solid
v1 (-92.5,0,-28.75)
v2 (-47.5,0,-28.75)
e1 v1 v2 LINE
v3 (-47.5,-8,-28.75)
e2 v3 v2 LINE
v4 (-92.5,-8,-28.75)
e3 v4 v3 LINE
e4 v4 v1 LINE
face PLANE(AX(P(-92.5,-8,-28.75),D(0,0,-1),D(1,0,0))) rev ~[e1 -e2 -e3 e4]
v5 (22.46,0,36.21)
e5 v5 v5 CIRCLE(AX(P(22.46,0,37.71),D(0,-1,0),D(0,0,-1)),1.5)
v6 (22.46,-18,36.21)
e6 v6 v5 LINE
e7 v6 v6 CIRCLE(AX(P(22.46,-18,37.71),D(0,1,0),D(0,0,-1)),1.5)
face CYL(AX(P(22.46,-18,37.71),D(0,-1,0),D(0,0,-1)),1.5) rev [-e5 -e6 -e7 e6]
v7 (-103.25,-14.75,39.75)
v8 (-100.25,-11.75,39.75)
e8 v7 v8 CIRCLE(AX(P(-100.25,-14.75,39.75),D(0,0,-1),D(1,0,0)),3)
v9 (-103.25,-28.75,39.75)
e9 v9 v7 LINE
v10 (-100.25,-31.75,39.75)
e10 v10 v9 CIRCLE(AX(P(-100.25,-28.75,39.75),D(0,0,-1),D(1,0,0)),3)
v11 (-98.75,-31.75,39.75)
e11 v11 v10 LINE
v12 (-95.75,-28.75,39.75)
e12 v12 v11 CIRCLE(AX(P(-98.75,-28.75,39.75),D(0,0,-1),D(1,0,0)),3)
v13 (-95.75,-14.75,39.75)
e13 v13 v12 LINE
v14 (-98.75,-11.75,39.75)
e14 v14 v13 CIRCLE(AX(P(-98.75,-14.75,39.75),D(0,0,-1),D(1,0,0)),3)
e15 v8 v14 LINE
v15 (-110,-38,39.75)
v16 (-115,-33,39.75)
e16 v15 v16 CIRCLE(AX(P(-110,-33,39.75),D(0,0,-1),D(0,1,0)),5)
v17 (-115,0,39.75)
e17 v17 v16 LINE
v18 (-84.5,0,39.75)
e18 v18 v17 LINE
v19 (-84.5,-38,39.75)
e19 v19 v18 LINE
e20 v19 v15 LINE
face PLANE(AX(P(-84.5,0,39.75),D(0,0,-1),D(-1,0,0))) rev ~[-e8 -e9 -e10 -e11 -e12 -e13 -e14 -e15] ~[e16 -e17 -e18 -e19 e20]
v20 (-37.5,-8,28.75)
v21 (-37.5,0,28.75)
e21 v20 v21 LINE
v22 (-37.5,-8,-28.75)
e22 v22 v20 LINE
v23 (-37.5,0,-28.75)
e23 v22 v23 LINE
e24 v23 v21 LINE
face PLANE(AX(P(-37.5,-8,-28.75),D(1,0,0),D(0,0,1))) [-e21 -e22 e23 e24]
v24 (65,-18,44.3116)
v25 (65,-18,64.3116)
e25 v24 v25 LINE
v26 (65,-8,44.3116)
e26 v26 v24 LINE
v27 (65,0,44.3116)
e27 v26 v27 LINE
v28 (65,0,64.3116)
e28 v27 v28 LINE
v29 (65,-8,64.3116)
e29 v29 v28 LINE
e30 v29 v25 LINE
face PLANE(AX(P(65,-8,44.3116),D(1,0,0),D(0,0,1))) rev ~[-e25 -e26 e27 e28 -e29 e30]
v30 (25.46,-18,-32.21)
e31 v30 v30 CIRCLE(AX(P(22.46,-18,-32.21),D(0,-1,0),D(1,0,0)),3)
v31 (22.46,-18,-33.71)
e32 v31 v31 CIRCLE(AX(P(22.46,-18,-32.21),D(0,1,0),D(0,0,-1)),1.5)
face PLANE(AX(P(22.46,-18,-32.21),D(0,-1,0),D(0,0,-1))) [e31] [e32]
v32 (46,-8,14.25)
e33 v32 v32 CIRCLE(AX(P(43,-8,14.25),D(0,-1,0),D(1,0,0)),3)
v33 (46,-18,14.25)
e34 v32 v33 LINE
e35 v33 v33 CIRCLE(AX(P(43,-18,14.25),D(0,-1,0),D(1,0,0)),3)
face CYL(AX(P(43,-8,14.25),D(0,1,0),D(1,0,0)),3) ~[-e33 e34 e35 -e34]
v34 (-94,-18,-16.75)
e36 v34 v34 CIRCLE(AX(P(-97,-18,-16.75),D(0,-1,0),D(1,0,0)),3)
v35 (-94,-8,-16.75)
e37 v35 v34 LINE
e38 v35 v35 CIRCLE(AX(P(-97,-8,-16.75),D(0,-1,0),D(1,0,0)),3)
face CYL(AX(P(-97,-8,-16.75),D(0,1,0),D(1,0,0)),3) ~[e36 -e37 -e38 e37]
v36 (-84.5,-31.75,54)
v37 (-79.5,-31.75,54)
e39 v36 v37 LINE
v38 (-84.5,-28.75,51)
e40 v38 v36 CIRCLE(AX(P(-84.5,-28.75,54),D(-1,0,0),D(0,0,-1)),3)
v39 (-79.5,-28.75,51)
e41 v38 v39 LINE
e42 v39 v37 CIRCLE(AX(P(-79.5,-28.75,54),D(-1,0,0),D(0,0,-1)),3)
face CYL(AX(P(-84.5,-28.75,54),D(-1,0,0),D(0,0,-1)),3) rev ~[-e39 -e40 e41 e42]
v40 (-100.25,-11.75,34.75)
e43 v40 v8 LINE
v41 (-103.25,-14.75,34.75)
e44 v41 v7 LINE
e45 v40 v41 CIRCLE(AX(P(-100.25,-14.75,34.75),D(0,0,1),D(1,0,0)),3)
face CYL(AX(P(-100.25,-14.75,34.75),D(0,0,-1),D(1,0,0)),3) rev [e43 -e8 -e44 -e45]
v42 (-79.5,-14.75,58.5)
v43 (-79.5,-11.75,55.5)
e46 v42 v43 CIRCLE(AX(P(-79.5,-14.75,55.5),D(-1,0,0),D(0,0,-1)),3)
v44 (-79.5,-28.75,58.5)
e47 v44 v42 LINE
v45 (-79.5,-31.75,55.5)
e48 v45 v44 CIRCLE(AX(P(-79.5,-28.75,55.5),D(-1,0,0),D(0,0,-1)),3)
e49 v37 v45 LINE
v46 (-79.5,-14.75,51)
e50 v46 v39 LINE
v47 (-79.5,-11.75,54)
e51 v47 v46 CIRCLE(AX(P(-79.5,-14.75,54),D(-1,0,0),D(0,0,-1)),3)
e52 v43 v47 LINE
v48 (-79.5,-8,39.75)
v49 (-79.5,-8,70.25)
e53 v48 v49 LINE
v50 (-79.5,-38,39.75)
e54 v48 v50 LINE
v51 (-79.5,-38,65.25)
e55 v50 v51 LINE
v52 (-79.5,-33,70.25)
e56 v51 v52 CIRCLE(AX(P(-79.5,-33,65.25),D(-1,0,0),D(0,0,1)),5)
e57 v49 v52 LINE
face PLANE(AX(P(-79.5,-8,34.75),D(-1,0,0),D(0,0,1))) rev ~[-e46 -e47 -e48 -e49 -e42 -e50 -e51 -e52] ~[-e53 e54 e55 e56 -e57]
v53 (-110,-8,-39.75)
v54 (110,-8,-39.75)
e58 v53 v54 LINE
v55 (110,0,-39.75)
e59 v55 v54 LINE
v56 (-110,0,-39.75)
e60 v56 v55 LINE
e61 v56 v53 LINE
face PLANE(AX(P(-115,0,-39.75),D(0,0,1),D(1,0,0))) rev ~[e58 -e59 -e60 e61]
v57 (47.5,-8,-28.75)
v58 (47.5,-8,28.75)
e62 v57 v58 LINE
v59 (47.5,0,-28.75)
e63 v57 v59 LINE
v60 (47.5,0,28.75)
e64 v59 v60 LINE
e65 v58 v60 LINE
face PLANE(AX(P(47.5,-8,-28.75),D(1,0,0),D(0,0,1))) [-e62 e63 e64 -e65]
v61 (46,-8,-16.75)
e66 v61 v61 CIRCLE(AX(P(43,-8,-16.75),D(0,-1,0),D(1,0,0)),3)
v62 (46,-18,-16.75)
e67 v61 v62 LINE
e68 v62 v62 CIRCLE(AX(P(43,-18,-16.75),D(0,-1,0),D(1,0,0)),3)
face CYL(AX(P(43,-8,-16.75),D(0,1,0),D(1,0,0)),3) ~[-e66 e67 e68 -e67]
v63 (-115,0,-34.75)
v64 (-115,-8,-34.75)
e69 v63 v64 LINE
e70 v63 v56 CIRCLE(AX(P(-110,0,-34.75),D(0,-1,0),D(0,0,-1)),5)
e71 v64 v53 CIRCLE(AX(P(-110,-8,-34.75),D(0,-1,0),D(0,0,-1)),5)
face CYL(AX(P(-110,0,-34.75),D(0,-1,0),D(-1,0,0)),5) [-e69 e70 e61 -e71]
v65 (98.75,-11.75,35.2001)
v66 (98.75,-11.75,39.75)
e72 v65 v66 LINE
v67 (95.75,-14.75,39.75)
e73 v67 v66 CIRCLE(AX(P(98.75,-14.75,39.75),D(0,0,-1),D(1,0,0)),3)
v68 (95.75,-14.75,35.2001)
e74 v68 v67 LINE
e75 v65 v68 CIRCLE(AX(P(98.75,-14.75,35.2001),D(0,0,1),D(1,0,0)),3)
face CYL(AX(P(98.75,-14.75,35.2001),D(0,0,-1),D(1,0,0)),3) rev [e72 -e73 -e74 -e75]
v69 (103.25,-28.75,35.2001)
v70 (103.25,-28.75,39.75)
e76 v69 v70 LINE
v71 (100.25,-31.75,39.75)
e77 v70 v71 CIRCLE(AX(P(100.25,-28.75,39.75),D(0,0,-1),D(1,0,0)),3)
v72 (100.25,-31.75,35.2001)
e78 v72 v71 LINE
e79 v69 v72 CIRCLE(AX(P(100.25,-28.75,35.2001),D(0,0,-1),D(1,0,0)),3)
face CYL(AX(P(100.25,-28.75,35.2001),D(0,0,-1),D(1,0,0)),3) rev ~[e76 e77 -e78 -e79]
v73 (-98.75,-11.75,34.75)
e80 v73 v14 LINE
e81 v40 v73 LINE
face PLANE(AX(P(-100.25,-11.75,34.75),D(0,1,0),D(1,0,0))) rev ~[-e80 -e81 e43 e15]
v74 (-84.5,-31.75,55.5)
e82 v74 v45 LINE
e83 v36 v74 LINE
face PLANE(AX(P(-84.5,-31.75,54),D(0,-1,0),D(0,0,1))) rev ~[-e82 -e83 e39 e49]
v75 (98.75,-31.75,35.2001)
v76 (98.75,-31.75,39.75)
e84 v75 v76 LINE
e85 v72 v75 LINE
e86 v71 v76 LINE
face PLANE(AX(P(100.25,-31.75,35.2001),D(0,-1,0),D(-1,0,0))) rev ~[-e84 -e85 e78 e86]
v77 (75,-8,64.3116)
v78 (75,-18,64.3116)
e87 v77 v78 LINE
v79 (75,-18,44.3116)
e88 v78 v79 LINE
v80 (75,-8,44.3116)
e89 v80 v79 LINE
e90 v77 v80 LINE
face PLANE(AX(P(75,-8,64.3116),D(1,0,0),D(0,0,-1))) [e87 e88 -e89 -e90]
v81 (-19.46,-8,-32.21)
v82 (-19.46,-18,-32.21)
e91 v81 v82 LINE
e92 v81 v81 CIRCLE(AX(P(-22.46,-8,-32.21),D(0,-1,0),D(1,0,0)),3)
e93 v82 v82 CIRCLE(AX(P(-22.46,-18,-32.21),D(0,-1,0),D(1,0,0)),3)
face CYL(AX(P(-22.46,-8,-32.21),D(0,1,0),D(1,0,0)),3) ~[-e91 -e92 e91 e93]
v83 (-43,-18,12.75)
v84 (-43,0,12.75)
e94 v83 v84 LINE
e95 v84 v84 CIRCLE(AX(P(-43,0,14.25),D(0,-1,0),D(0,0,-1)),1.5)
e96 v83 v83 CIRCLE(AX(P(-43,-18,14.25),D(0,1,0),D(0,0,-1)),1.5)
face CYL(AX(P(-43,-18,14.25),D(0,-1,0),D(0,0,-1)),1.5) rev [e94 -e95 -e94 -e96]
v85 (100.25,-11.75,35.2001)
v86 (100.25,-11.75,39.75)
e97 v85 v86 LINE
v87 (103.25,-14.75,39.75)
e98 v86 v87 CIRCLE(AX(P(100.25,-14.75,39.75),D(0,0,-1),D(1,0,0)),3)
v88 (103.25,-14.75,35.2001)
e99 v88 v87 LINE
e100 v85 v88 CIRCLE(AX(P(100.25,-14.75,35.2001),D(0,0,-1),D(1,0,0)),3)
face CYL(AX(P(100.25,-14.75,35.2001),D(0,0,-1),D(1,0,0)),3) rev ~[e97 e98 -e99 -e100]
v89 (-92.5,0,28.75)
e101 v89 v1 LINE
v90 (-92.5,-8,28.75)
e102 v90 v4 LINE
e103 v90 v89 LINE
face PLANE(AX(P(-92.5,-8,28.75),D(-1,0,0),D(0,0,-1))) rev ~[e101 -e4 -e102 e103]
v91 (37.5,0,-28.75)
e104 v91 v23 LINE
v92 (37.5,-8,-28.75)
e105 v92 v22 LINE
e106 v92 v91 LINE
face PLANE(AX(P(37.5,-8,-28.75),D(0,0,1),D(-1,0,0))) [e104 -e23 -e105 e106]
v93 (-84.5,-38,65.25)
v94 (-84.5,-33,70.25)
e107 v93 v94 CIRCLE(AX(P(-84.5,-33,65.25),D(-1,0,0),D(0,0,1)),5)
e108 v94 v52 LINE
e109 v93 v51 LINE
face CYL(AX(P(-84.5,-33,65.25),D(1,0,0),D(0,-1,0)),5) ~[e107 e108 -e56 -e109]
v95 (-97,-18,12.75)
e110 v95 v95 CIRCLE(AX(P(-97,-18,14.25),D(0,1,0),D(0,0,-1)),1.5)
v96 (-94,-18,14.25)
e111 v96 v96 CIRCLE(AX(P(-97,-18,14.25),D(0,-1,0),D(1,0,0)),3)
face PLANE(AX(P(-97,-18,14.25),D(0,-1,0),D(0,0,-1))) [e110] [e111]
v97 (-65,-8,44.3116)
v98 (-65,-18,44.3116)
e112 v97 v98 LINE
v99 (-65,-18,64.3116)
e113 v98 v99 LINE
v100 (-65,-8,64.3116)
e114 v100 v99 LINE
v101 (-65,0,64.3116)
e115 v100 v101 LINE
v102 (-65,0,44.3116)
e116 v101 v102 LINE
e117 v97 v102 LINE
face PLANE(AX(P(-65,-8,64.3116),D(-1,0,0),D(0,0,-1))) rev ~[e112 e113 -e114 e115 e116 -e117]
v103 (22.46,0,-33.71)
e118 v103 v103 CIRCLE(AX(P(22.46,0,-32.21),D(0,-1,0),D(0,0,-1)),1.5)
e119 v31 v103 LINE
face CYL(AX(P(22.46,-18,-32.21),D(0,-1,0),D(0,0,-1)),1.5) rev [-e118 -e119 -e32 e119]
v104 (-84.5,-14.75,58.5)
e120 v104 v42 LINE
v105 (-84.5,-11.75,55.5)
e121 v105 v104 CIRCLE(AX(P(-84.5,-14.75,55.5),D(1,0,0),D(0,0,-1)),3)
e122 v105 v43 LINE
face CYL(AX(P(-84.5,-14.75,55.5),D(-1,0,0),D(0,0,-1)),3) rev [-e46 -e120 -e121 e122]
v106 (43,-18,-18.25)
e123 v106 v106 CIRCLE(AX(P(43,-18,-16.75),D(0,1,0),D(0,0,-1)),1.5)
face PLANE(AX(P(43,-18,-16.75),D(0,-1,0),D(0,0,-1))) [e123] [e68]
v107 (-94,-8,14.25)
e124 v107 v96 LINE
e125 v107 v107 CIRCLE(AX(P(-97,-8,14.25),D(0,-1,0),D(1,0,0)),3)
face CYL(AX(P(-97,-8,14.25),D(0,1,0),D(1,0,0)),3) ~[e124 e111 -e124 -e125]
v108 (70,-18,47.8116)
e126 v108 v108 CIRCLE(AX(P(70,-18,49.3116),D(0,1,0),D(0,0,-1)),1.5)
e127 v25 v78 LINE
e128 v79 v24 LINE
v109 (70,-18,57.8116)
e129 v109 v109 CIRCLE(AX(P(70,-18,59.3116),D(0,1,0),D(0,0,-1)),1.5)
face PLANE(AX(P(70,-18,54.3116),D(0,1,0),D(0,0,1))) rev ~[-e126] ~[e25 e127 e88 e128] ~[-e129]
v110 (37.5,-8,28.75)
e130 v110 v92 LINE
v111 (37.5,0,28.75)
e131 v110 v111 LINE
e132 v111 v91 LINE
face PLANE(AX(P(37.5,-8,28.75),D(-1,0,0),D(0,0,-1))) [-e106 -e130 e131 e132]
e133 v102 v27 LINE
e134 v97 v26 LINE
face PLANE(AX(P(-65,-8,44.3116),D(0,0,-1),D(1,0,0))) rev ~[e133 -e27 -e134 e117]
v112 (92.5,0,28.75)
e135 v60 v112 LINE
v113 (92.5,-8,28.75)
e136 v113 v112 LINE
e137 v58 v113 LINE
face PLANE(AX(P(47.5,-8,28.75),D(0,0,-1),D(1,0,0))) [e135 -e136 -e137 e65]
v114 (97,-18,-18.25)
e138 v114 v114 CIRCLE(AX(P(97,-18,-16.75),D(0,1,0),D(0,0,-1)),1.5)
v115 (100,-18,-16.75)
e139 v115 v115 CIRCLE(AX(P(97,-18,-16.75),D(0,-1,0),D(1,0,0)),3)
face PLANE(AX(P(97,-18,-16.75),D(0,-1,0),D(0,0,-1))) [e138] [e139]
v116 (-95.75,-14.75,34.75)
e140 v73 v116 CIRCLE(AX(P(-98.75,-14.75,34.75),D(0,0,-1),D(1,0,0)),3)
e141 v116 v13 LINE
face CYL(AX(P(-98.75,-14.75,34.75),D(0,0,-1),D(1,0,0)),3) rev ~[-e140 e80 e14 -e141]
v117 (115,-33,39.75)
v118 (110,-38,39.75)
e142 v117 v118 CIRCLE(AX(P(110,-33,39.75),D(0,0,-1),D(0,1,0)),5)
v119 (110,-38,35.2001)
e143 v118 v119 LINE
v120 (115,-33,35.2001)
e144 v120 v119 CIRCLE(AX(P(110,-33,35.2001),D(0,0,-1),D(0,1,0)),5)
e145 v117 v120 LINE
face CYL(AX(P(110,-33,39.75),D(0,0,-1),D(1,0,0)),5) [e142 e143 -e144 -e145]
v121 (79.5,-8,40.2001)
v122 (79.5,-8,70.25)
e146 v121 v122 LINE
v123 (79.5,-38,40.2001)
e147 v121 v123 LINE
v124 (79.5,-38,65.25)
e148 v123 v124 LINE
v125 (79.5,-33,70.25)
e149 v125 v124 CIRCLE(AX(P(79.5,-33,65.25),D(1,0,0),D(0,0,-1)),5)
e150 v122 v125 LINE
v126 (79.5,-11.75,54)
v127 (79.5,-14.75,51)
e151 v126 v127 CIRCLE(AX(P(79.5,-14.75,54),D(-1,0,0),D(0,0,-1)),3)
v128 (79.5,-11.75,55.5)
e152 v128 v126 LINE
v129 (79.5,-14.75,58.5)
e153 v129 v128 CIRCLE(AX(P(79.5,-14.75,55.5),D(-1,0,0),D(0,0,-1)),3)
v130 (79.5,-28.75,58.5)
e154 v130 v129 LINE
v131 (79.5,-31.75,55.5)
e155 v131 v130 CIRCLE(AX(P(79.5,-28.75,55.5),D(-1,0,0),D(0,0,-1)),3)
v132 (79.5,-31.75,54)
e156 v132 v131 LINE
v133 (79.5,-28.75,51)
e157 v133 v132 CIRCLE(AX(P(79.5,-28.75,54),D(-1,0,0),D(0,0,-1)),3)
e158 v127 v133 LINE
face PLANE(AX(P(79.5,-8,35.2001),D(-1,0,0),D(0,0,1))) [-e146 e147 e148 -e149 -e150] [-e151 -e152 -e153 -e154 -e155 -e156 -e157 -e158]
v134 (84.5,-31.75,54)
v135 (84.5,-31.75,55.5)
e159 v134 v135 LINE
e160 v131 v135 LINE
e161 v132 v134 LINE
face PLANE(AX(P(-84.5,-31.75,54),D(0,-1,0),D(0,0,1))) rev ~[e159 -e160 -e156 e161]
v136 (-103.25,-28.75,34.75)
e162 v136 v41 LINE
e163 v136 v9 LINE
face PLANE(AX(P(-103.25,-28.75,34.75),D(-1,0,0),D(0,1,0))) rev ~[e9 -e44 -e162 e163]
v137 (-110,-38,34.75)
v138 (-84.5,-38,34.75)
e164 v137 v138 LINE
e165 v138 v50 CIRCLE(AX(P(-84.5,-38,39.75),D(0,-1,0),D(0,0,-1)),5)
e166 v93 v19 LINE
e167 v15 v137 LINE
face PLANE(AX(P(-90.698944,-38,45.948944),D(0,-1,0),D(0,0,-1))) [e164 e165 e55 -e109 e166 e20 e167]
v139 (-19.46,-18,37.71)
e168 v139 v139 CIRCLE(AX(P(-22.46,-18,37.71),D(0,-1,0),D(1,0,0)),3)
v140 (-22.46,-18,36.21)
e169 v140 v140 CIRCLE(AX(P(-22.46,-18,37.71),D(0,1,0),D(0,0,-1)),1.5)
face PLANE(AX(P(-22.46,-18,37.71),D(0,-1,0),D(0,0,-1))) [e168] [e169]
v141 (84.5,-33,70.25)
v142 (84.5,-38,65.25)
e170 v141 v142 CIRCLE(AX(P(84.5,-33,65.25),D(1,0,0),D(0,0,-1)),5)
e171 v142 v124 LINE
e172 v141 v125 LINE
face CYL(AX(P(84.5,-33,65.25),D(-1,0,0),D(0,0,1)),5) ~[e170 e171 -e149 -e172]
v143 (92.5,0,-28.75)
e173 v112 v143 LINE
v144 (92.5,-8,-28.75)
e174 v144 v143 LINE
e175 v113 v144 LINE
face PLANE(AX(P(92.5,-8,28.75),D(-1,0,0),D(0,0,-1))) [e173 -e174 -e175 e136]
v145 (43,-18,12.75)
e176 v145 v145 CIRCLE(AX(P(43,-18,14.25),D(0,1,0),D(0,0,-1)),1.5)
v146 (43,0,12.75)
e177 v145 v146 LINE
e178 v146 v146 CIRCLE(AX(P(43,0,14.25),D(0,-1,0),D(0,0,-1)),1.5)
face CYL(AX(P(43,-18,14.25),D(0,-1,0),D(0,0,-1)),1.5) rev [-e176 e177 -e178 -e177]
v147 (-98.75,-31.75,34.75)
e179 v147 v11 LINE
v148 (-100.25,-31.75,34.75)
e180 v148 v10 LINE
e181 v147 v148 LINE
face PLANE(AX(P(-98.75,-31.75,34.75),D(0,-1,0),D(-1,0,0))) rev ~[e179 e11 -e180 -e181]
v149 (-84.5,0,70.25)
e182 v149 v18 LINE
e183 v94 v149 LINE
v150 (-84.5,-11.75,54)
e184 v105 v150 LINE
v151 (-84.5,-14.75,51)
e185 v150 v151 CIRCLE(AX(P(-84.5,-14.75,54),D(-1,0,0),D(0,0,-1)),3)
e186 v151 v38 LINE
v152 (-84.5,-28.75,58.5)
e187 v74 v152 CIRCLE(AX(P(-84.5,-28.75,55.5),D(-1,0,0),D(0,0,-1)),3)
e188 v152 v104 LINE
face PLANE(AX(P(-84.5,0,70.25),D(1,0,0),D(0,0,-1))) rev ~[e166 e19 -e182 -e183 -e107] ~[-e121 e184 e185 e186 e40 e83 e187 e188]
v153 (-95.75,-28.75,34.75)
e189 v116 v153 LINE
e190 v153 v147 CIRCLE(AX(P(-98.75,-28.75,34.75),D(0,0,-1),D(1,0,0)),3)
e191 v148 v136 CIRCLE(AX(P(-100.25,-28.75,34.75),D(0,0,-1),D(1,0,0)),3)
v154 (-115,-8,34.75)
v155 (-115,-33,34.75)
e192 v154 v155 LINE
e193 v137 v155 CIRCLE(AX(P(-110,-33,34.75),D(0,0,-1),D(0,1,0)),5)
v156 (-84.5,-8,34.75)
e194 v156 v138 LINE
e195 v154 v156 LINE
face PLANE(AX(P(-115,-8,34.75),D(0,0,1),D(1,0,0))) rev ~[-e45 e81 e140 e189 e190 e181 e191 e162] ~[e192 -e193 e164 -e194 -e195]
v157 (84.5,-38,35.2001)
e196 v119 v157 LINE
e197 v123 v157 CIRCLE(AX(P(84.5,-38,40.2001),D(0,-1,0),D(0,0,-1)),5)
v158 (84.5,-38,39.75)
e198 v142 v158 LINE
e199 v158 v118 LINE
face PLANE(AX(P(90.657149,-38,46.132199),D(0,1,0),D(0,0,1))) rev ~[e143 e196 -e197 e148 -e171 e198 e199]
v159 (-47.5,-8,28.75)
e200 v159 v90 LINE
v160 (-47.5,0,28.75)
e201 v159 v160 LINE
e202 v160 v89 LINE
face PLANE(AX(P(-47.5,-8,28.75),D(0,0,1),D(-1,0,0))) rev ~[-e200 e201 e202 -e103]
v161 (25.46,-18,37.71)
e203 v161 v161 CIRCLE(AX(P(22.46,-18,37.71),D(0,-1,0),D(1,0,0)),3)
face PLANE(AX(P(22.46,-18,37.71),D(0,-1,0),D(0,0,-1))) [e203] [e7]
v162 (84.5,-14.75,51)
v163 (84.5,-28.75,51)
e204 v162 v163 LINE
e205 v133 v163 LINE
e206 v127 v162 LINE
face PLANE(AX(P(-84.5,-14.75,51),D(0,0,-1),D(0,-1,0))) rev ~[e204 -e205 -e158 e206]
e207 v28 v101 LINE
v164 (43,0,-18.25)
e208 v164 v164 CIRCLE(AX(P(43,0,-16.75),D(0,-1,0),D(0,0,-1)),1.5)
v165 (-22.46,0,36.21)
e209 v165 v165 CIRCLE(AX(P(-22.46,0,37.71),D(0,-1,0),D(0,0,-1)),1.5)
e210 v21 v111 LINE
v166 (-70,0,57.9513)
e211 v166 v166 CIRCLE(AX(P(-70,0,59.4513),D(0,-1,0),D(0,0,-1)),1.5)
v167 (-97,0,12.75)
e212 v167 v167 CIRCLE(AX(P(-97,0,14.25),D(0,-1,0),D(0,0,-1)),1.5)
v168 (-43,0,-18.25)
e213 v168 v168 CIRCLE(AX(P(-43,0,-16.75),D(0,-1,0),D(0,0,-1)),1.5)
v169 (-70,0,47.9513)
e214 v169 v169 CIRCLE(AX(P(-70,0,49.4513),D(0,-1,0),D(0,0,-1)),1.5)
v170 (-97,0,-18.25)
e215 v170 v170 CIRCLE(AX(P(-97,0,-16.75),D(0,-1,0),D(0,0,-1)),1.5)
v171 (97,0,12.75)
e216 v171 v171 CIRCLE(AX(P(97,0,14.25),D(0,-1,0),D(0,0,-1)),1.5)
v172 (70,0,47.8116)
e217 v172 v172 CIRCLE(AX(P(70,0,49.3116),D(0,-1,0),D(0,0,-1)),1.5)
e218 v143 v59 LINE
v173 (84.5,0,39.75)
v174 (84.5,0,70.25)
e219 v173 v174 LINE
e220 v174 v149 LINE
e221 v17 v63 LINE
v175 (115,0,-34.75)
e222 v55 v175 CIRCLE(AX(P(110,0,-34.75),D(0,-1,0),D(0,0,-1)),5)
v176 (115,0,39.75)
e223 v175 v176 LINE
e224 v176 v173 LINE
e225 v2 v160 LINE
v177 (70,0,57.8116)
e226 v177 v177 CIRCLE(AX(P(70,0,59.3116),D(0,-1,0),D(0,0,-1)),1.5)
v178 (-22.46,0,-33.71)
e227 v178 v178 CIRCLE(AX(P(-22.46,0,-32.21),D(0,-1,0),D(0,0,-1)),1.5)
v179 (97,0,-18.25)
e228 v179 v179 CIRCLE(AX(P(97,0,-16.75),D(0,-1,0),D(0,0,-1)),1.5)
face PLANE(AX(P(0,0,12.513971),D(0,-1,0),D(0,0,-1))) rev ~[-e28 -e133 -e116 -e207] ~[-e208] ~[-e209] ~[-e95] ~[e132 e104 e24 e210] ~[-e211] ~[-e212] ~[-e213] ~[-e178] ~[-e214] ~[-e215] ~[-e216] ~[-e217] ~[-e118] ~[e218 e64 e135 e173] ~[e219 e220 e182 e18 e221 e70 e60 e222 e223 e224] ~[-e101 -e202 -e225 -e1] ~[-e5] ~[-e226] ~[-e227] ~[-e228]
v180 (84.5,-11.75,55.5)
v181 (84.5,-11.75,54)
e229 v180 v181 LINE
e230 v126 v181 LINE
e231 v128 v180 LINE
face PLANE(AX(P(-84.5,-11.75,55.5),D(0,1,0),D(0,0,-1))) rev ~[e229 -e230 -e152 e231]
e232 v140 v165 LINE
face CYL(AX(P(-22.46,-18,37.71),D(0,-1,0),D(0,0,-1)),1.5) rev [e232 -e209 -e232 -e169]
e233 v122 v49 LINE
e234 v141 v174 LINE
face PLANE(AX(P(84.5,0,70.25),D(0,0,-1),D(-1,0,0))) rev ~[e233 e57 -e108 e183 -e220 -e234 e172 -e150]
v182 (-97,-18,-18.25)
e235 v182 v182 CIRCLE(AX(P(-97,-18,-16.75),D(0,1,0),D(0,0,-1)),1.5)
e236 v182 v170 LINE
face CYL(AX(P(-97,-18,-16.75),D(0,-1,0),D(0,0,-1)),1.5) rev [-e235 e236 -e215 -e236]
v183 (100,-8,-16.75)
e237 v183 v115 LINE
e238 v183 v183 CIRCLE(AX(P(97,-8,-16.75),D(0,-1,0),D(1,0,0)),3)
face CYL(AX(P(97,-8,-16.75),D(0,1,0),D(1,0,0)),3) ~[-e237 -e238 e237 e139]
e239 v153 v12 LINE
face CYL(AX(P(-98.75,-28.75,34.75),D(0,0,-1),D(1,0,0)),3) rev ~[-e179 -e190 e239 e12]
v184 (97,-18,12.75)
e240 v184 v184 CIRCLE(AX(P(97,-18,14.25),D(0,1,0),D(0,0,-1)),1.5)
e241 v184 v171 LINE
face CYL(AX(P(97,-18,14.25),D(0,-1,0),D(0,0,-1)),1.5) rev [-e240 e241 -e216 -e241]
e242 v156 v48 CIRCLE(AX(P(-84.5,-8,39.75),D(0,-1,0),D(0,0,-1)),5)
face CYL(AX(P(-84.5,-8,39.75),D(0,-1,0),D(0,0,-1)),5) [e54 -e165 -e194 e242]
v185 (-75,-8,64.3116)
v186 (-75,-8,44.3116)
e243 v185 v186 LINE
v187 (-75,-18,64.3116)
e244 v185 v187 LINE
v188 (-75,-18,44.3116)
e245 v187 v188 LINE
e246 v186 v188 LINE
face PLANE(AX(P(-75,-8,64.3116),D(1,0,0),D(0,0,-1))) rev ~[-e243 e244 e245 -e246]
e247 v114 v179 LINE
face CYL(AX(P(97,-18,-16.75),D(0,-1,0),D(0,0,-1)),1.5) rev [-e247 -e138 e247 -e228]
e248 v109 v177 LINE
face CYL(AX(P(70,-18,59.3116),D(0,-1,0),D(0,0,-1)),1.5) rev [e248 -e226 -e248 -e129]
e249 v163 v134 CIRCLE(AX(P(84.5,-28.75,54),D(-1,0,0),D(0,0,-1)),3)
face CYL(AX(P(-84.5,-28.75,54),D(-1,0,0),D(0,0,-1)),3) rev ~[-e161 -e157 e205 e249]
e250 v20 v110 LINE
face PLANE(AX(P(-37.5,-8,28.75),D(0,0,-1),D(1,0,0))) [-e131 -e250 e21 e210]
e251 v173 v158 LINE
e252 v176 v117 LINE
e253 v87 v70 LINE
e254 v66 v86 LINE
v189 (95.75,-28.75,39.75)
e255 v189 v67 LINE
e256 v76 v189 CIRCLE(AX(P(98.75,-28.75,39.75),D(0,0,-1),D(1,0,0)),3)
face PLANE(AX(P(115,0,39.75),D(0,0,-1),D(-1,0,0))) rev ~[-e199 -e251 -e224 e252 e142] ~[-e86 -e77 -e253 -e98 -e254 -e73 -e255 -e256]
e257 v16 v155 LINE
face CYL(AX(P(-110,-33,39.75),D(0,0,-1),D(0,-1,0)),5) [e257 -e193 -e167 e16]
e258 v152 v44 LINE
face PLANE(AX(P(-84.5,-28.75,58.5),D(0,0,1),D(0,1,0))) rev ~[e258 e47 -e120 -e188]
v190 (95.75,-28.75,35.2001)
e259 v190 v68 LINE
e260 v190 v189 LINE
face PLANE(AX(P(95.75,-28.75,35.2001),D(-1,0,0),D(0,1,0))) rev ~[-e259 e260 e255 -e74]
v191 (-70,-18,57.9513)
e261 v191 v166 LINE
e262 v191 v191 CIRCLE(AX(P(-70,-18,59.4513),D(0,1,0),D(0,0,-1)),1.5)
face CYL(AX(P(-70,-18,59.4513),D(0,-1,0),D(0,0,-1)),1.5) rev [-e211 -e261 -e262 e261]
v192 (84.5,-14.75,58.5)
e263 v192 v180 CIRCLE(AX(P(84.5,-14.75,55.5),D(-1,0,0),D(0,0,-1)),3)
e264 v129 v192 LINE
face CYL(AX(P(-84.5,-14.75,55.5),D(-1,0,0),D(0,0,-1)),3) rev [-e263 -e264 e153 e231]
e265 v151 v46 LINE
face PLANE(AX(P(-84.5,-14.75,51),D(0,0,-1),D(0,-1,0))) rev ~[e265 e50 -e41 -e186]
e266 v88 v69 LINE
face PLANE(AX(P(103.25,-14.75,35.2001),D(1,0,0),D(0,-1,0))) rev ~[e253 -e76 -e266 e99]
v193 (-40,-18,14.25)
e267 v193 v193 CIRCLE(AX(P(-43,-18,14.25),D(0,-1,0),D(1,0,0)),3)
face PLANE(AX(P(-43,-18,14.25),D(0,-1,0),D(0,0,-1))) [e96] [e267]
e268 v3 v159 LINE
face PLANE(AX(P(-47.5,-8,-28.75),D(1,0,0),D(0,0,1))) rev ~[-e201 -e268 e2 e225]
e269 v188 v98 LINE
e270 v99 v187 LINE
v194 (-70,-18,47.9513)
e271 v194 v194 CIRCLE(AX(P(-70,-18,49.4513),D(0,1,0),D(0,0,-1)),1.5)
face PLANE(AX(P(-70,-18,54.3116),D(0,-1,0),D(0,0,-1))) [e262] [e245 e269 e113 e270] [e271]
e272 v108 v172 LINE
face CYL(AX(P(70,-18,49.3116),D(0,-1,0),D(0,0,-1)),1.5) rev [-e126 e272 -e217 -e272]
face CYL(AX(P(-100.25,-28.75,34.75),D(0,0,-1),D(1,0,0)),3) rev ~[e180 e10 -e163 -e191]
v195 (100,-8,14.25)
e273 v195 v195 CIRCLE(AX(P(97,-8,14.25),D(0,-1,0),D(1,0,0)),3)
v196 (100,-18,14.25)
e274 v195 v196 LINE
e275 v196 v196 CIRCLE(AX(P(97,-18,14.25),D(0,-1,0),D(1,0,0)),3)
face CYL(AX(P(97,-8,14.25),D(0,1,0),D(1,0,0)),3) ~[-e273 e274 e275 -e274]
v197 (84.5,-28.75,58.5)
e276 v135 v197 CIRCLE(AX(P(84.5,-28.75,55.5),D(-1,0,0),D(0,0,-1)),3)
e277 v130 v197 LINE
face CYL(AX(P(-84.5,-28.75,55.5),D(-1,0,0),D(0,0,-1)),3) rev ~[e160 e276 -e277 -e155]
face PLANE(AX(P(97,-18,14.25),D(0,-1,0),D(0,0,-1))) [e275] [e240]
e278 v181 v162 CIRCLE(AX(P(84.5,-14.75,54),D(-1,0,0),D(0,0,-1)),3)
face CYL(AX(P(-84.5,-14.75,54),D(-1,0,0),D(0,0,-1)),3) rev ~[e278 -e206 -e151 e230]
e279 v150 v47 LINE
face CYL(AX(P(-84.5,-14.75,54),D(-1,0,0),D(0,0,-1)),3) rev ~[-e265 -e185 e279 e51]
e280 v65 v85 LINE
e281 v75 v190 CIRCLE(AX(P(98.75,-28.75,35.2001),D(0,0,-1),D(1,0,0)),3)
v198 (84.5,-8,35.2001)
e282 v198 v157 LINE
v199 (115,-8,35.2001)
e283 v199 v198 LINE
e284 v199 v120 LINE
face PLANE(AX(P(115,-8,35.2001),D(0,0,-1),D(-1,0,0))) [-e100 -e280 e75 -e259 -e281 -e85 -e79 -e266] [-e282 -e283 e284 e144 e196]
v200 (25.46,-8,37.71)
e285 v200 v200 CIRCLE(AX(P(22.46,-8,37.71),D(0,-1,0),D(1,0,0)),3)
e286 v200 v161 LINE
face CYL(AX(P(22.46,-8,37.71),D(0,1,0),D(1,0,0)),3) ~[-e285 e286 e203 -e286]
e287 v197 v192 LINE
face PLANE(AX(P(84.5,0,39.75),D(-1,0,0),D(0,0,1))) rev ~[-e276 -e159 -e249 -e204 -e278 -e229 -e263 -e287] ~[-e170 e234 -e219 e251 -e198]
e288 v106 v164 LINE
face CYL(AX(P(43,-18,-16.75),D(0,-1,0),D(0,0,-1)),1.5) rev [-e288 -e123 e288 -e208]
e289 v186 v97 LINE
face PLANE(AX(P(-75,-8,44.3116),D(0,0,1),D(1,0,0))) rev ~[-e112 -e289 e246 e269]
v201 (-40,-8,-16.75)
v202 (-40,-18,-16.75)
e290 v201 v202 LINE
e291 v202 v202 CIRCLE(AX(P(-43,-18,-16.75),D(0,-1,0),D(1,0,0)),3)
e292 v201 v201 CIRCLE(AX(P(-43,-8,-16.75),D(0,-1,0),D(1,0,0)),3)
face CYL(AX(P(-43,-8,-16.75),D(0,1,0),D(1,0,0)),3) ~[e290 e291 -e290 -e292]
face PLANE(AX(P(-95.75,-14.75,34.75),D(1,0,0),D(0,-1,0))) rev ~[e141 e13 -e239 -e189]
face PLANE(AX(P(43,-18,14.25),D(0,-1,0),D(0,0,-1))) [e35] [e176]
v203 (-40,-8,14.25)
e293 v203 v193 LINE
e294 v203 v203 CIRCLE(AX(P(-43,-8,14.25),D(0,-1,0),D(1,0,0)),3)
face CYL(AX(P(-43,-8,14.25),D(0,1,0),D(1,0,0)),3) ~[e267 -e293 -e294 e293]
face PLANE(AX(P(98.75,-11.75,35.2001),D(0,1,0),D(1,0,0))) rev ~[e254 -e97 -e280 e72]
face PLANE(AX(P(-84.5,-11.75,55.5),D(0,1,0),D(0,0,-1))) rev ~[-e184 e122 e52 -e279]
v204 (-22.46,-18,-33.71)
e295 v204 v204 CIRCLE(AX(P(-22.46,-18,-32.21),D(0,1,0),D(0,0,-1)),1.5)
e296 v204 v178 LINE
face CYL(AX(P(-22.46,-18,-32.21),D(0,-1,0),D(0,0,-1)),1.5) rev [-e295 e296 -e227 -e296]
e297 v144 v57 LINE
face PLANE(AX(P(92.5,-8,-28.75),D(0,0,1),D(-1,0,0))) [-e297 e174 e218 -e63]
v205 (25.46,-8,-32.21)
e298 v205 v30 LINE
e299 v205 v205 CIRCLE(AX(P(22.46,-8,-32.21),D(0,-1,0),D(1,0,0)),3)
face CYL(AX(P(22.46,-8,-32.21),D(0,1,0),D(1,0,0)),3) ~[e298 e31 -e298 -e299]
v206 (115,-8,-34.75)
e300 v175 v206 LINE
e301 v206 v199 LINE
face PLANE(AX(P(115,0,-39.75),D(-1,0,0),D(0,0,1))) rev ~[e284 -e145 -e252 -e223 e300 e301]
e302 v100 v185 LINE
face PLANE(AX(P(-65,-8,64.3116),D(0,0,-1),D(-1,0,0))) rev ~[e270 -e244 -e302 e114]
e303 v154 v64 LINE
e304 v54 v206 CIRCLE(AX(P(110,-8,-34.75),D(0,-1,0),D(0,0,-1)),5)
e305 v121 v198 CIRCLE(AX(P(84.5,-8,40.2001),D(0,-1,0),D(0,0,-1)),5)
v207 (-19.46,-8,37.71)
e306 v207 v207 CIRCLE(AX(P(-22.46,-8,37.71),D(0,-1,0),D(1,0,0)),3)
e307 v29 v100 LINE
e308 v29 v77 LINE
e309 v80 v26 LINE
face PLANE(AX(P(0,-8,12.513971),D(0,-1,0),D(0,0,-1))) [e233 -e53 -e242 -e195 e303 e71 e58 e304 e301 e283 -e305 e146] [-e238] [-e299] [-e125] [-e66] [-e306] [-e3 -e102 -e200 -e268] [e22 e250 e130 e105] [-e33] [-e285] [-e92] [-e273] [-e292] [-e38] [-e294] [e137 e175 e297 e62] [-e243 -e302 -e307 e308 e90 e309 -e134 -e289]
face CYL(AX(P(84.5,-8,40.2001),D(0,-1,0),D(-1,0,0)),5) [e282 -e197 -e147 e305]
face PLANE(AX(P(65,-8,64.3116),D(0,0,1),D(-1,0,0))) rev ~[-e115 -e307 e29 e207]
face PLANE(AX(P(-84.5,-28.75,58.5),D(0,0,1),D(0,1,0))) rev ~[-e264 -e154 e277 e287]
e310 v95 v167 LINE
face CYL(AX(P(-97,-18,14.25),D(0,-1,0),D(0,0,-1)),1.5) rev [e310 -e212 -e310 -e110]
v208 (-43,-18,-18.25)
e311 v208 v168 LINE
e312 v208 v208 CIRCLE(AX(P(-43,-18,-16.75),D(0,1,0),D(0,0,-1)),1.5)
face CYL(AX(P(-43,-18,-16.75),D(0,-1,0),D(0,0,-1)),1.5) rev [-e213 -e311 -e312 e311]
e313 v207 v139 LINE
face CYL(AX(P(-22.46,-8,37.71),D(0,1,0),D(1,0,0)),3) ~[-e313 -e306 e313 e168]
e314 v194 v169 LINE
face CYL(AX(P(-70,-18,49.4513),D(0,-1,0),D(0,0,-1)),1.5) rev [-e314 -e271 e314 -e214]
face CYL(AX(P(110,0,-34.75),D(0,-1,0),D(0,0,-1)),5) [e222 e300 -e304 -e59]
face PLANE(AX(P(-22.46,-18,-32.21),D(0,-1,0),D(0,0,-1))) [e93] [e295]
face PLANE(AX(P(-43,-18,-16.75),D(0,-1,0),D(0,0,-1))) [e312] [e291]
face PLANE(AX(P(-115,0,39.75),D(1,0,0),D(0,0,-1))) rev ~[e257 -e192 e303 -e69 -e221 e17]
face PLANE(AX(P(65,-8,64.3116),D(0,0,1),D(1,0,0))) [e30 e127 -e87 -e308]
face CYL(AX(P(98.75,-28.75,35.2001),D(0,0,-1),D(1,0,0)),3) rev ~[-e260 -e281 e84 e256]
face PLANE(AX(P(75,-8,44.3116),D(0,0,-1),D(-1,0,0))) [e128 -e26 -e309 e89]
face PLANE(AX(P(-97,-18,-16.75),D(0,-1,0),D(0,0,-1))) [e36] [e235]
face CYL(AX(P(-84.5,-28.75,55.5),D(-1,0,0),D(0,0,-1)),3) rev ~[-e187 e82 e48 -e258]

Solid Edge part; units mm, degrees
sketch "Sketch1" plane through (0, 0, 0) normal (0, -1, 0) x (1, 0, 0)
  line L0 (-84.5, 39.75) -> (-115, 39.75)
  line L1 (-115, 39.75) -> (-115, -39.75)
  line L2 (-115, -39.75) -> (115, -39.75)
  line L3 (115, -39.75) -> (115, 39.75)
  line L4 (115, 39.75) -> (84.5, 39.75)
  line L5 (84.5, 39.75) -> (84.5, 70.25)
  line L6 (84.5, 70.25) -> (-84.5, 70.25)
  line L7 (-84.5, 70.25) -> (-84.5, 39.75)
extrude "Protrusion1" add sketch "Sketch1" along normal blind 8
sketch "Sketch2" plane through (0, -8, 15.25) normal (0, -1, 0) x (1, 0, 0)
  line L0 (-115, 24.5) -> (-115, 19.5)
  line L1 (-115, 19.5) -> (-79.5, 19.5)
  line L2 (-79.5, 19.5) -> (-79.5, 55)
  line L3 (-84.5, 55) -> (-79.5, 55)
  line L4 (-84.5, 55) -> (-84.5, 24.5)
  line L5 (-84.5, 24.5) -> (-115, 24.5)
  line L6 (115, 19.9501) -> (79.5, 19.9501)
  line L7 (79.5, 19.9501) -> (79.5, 55)
  line L8 (84.5, 55) -> (79.5, 55)
  line L9 (84.5, 55) -> (84.5, 24.5)
  line L10 (84.5, 24.5) -> (115, 24.5)
  line L11 (115, 24.5) -> (115, 19.9501)
extrude "Protrusion2" add sketch "Sketch2" along normal blind 30
sketch "Sketch3" plane through (-97.25, -23, 34.75) normal (0, 0, -1) x (1, 0, 0)
  line L0 (1.5, -2.75) -> (1.5, 0.25) construction
  line L1 (1.5, -8.25) -> (1.5, 5.75)
  arc A0 (1.5, 5.75) -> (-1.5, 8.75) centre (-1.5, 5.75) ccw
  line L2 (-1.5, 8.75) -> (-3, 8.75)
  arc A1 (-3, 8.75) -> (-6, 5.75) centre (-3, 5.75) ccw
  line L3 (-6, 5.75) -> (-6, -8.25)
  line L4 (-6, 0.25) -> (-6, -2.75) construction
  arc A2 (-3, -11.25) -> (-6, -8.25) centre (-3, -8.25) cw
  line L5 (-3, -11.25) -> (-1.5, -11.25)
  arc A3 (-1.5, -11.25) -> (1.5, -8.25) centre (-1.5, -8.25) ccw
extrude "Cutout1" cut sketch "Sketch3" against normal blind 20
sketch "Sketch4" plane through (97.25, -23, 35.2001) normal (0, 0, -1) x (1, 0, 0)
  line L0 (6, -2.75) -> (6, 0.25) construction
  line L1 (6, -8.25) -> (6, 5.75)
  arc A0 (6, 5.75) -> (3, 8.75) centre (3, 5.75) ccw
  line L2 (3, 8.75) -> (1.5, 8.75)
  arc A1 (1.5, 8.75) -> (-1.5, 5.75) centre (1.5, 5.75) ccw
  line L3 (-1.5, 5.75) -> (-1.5, -8.25)
  line L4 (-1.5, 0.25) -> (-1.5, -2.75) construction
  arc A2 (1.5, -11.25) -> (-1.5, -8.25) centre (1.5, -8.25) cw
  line L5 (1.5, -11.25) -> (3, -11.25)
  arc A3 (3, -11.25) -> (6, -8.25) centre (3, -8.25) ccw
extrude "Cutout2" cut sketch "Sketch4" against normal blind 40
sketch "Sketch5" plane through (-84.5, -19, 55) normal (-1, 0, 0) x (0, 0, -1)
  line L0 (4, 1.25) -> (4, 4.25) construction
  line L1 (4, -4.25) -> (4, 9.75)
  arc A0 (4, 9.75) -> (1, 12.75) centre (1, 9.75) ccw
  line L2 (1, 12.75) -> (-0.5, 12.75)
  arc A1 (-0.5, 12.75) -> (-3.5, 9.75) centre (-0.5, 9.75) ccw
  line L3 (-3.5, 9.75) -> (-3.5, -4.25)
  line L4 (-3.5, 4.25) -> (-3.5, 1.25) construction
  arc A2 (-0.5, -7.25) -> (-3.5, -4.25) centre (-0.5, -4.25) cw
  line L5 (-0.5, -7.25) -> (1, -7.25)
  arc A3 (1, -7.25) -> (4, -4.25) centre (1, -4.25) ccw
extrude "Cutout3" cut sketch "Sketch5" against normal blind 200
sketch "Sketch6" plane through (0, -8, 15.25) normal (0, -1, 0) x (1, 0, 0)
  circle A0 centre (-22.46, 22.46) radius 3
  circle A1 centre (22.46, 22.46) radius 3
  circle A2 centre (22.46, -47.46) radius 3
  circle A3 centre (-22.46, -47.46) radius 3
  circle A4 centre (-43, -32) radius 3
  circle A5 centre (-43, -1) radius 3
  circle A6 centre (-97, -1) radius 3
  circle A7 centre (-97, -32) radius 3
  circle A8 centre (43, -32) radius 3
  circle A9 centre (43, -1) radius 3
  circle A10 centre (97, -1) radius 3
  circle A11 centre (97, -32) radius 3
  dimension "D1" = 37
  dimension "D2" = 60
  dimension "D3" = 50
  dimension "D4" = 75
  dimension "D5" = 60
  dimension "D6" = 37
  dimension "D7" = 5
  dimension "D8" = 15
  dimension "D9" = 15
  dimension "D10" = 2.54
  dimension "D11" = 2.54
  dimension "D12" = 2.54
  dimension "D13" = 2.54
  dimension "D14" = 3
  dimension "D15" = 20
  dimension "D16" = 20
  dimension "D17" = 3
  dimension "D18" = 3
  dimension "D19" = 3
  dimension "D20" = 3
  dimension "D21" = 3
  dimension "D22" = 56
  dimension "D23" = 41
  dimension "D24" = 28
extrude "Protrusion3" add sketch "Sketch6" along normal blind 10
hole "Hole1" at (-22.46, -18, 37.71) direction (0, 1, 0) diameter 3 end up to next
hole "Hole2" at (22.46, -18, 37.71) direction (0, 1, 0) diameter 3 end up to next
hole "Hole3" at (43, -18, 14.25) direction (0, 1, 0) diameter 3 end up to next
hole "Hole4" at (97, -18, 14.25) direction (0, 1, 0) diameter 3 end up to next
hole "Hole5" at (97, -18, -16.75) direction (0, 1, 0) diameter 3 end up to next
hole "Hole6" at (43, -18, -16.75) direction (0, 1, 0) diameter 3 end up to next
hole "Hole7" at (22.46, -18, -32.21) direction (0, 1, 0) diameter 3 end up to next
hole "Hole8" at (-22.46, -18, -32.21) direction (0, 1, 0) diameter 3 end up to next
hole "Hole9" at (-43, -18, -16.75) direction (0, 1, 0) diameter 3 end up to next
hole "Hole10" at (-43, -18, 14.25) direction (0, 1, 0) diameter 3 end up to next
hole "Hole11" at (-97, -18, 14.25) direction (0, 1, 0) diameter 3 end up to next
hole "Hole12" at (-97, -18, -16.75) direction (0, 1, 0) diameter 3 end up to next
sketch "Sketch7" plane through (0, -8, 15.25) normal (0, -1, 0) x (1, 0, 0)
  line L0 (65, 49.0616) -> (-65, 49.0616)
  line L1 (-65, 49.0616) -> (-65, 29.0616)
  line L2 (-65, 29.0616) -> (65, 29.0616)
  line L3 (65, 29.0616) -> (65, 49.0616)
  line L4 (-37.5, 13.5) -> (37.5, 13.5)
  line L5 (37.5, 13.5) -> (37.5, -44)
  line L6 (37.5, -44) -> (-37.5, -44)
  line L7 (-37.5, -44) -> (-37.5, 13.5)
  line L8 (-47.5, 13.5) -> (-92.5, 13.5)
  line L9 (-92.5, 13.5) -> (-92.5, -44)
  line L10 (-92.5, -44) -> (-47.5, -44)
  line L11 (-47.5, -44) -> (-47.5, 13.5)
  line L12 (47.5, 13.5) -> (92.5, 13.5)
  line L13 (92.5, 13.5) -> (92.5, -44)
  line L14 (92.5, -44) -> (47.5, -44)
  line L15 (47.5, -44) -> (47.5, 13.5)
  dimension "D1" = 20
  dimension "D2" = 130
  dimension "D3" = 75
  dimension "D4" = 57.5
  dimension "D5" = 57.5
  dimension "D6" = 57.5
  dimension "D7" = 45
  dimension "D8" = 45
  dimension "D9" = 10
  dimension "D10" = 10
  dimension "D11" = 11
  dimension "D12" = 11
  dimension "D13" = 15.5616
  dimension "D14" = 19.5
  dimension "D15" = 10
  dimension "D16" = 20
  dimension "D17" = 10
  dimension "D18" = 20
extrude "Cutout4" cut sketch "Sketch7" against normal blind 30
sketch "Sketch8" plane through (0, -8, 15.25) normal (0, -1, 0) x (1, 0, 0)
  line L0 (-75, 49.0616) -> (-75, 29.0616)
  line L1 (-75, 29.0616) -> (-65, 29.0616)
  line L2 (-65, 29.0616) -> (-65, 49.0616)
  line L3 (-65, 49.0616) -> (-75, 49.0616)
  line L4 (75, 29.0616) -> (65, 29.0616)
  line L5 (65, 29.0616) -> (65, 49.0616)
  line L6 (65, 49.0616) -> (75, 49.0616)
  line L7 (75, 49.0616) -> (75, 29.0616)
  dimension "D1" = 20
  dimension "D2" = 130
  dimension "D3" = 75
  dimension "D4" = 57.5
  dimension "D5" = 57.5
  dimension "D6" = 57.5
  dimension "D7" = 45
  dimension "D8" = 45
  dimension "D9" = 10
  dimension "D10" = 10
  dimension "D11" = 11
  dimension "D12" = 11
  dimension "D13" = 15.5616
  dimension "D14" = 19.5
  dimension "D15" = 10
  dimension "D16" = 20
  dimension "D17" = 10
  dimension "D18" = 20
extrude "Protrusion4" add sketch "Sketch8" along normal blind 10
hole "Hole13" at (-70, -18, 59.4513) direction (0, 1, 0) diameter 3 end up to next
hole "Hole14" at (-70, -18, 49.4513) direction (0, 1, 0) diameter 3 end up to next
hole "Hole15" at (70, -18, 59.3116) direction (0, 1, 0) diameter 3 end up to next
hole "Hole16" at (70, -18, 49.3116) direction (0, 1, 0) diameter 3 end up to next
fillet "Round1" radius 5 6 edges at (82, -38, 70.25) (115, -38, 37.4751) (-82, -38, 70.25) (-115, -38, 37.25) (-115, -4, -39.75) (115, -4, -39.75)
fillet "Round2" radius 5 2 edges at (79.5, -23, 35.2001) (-79.5, -23, 34.75)
